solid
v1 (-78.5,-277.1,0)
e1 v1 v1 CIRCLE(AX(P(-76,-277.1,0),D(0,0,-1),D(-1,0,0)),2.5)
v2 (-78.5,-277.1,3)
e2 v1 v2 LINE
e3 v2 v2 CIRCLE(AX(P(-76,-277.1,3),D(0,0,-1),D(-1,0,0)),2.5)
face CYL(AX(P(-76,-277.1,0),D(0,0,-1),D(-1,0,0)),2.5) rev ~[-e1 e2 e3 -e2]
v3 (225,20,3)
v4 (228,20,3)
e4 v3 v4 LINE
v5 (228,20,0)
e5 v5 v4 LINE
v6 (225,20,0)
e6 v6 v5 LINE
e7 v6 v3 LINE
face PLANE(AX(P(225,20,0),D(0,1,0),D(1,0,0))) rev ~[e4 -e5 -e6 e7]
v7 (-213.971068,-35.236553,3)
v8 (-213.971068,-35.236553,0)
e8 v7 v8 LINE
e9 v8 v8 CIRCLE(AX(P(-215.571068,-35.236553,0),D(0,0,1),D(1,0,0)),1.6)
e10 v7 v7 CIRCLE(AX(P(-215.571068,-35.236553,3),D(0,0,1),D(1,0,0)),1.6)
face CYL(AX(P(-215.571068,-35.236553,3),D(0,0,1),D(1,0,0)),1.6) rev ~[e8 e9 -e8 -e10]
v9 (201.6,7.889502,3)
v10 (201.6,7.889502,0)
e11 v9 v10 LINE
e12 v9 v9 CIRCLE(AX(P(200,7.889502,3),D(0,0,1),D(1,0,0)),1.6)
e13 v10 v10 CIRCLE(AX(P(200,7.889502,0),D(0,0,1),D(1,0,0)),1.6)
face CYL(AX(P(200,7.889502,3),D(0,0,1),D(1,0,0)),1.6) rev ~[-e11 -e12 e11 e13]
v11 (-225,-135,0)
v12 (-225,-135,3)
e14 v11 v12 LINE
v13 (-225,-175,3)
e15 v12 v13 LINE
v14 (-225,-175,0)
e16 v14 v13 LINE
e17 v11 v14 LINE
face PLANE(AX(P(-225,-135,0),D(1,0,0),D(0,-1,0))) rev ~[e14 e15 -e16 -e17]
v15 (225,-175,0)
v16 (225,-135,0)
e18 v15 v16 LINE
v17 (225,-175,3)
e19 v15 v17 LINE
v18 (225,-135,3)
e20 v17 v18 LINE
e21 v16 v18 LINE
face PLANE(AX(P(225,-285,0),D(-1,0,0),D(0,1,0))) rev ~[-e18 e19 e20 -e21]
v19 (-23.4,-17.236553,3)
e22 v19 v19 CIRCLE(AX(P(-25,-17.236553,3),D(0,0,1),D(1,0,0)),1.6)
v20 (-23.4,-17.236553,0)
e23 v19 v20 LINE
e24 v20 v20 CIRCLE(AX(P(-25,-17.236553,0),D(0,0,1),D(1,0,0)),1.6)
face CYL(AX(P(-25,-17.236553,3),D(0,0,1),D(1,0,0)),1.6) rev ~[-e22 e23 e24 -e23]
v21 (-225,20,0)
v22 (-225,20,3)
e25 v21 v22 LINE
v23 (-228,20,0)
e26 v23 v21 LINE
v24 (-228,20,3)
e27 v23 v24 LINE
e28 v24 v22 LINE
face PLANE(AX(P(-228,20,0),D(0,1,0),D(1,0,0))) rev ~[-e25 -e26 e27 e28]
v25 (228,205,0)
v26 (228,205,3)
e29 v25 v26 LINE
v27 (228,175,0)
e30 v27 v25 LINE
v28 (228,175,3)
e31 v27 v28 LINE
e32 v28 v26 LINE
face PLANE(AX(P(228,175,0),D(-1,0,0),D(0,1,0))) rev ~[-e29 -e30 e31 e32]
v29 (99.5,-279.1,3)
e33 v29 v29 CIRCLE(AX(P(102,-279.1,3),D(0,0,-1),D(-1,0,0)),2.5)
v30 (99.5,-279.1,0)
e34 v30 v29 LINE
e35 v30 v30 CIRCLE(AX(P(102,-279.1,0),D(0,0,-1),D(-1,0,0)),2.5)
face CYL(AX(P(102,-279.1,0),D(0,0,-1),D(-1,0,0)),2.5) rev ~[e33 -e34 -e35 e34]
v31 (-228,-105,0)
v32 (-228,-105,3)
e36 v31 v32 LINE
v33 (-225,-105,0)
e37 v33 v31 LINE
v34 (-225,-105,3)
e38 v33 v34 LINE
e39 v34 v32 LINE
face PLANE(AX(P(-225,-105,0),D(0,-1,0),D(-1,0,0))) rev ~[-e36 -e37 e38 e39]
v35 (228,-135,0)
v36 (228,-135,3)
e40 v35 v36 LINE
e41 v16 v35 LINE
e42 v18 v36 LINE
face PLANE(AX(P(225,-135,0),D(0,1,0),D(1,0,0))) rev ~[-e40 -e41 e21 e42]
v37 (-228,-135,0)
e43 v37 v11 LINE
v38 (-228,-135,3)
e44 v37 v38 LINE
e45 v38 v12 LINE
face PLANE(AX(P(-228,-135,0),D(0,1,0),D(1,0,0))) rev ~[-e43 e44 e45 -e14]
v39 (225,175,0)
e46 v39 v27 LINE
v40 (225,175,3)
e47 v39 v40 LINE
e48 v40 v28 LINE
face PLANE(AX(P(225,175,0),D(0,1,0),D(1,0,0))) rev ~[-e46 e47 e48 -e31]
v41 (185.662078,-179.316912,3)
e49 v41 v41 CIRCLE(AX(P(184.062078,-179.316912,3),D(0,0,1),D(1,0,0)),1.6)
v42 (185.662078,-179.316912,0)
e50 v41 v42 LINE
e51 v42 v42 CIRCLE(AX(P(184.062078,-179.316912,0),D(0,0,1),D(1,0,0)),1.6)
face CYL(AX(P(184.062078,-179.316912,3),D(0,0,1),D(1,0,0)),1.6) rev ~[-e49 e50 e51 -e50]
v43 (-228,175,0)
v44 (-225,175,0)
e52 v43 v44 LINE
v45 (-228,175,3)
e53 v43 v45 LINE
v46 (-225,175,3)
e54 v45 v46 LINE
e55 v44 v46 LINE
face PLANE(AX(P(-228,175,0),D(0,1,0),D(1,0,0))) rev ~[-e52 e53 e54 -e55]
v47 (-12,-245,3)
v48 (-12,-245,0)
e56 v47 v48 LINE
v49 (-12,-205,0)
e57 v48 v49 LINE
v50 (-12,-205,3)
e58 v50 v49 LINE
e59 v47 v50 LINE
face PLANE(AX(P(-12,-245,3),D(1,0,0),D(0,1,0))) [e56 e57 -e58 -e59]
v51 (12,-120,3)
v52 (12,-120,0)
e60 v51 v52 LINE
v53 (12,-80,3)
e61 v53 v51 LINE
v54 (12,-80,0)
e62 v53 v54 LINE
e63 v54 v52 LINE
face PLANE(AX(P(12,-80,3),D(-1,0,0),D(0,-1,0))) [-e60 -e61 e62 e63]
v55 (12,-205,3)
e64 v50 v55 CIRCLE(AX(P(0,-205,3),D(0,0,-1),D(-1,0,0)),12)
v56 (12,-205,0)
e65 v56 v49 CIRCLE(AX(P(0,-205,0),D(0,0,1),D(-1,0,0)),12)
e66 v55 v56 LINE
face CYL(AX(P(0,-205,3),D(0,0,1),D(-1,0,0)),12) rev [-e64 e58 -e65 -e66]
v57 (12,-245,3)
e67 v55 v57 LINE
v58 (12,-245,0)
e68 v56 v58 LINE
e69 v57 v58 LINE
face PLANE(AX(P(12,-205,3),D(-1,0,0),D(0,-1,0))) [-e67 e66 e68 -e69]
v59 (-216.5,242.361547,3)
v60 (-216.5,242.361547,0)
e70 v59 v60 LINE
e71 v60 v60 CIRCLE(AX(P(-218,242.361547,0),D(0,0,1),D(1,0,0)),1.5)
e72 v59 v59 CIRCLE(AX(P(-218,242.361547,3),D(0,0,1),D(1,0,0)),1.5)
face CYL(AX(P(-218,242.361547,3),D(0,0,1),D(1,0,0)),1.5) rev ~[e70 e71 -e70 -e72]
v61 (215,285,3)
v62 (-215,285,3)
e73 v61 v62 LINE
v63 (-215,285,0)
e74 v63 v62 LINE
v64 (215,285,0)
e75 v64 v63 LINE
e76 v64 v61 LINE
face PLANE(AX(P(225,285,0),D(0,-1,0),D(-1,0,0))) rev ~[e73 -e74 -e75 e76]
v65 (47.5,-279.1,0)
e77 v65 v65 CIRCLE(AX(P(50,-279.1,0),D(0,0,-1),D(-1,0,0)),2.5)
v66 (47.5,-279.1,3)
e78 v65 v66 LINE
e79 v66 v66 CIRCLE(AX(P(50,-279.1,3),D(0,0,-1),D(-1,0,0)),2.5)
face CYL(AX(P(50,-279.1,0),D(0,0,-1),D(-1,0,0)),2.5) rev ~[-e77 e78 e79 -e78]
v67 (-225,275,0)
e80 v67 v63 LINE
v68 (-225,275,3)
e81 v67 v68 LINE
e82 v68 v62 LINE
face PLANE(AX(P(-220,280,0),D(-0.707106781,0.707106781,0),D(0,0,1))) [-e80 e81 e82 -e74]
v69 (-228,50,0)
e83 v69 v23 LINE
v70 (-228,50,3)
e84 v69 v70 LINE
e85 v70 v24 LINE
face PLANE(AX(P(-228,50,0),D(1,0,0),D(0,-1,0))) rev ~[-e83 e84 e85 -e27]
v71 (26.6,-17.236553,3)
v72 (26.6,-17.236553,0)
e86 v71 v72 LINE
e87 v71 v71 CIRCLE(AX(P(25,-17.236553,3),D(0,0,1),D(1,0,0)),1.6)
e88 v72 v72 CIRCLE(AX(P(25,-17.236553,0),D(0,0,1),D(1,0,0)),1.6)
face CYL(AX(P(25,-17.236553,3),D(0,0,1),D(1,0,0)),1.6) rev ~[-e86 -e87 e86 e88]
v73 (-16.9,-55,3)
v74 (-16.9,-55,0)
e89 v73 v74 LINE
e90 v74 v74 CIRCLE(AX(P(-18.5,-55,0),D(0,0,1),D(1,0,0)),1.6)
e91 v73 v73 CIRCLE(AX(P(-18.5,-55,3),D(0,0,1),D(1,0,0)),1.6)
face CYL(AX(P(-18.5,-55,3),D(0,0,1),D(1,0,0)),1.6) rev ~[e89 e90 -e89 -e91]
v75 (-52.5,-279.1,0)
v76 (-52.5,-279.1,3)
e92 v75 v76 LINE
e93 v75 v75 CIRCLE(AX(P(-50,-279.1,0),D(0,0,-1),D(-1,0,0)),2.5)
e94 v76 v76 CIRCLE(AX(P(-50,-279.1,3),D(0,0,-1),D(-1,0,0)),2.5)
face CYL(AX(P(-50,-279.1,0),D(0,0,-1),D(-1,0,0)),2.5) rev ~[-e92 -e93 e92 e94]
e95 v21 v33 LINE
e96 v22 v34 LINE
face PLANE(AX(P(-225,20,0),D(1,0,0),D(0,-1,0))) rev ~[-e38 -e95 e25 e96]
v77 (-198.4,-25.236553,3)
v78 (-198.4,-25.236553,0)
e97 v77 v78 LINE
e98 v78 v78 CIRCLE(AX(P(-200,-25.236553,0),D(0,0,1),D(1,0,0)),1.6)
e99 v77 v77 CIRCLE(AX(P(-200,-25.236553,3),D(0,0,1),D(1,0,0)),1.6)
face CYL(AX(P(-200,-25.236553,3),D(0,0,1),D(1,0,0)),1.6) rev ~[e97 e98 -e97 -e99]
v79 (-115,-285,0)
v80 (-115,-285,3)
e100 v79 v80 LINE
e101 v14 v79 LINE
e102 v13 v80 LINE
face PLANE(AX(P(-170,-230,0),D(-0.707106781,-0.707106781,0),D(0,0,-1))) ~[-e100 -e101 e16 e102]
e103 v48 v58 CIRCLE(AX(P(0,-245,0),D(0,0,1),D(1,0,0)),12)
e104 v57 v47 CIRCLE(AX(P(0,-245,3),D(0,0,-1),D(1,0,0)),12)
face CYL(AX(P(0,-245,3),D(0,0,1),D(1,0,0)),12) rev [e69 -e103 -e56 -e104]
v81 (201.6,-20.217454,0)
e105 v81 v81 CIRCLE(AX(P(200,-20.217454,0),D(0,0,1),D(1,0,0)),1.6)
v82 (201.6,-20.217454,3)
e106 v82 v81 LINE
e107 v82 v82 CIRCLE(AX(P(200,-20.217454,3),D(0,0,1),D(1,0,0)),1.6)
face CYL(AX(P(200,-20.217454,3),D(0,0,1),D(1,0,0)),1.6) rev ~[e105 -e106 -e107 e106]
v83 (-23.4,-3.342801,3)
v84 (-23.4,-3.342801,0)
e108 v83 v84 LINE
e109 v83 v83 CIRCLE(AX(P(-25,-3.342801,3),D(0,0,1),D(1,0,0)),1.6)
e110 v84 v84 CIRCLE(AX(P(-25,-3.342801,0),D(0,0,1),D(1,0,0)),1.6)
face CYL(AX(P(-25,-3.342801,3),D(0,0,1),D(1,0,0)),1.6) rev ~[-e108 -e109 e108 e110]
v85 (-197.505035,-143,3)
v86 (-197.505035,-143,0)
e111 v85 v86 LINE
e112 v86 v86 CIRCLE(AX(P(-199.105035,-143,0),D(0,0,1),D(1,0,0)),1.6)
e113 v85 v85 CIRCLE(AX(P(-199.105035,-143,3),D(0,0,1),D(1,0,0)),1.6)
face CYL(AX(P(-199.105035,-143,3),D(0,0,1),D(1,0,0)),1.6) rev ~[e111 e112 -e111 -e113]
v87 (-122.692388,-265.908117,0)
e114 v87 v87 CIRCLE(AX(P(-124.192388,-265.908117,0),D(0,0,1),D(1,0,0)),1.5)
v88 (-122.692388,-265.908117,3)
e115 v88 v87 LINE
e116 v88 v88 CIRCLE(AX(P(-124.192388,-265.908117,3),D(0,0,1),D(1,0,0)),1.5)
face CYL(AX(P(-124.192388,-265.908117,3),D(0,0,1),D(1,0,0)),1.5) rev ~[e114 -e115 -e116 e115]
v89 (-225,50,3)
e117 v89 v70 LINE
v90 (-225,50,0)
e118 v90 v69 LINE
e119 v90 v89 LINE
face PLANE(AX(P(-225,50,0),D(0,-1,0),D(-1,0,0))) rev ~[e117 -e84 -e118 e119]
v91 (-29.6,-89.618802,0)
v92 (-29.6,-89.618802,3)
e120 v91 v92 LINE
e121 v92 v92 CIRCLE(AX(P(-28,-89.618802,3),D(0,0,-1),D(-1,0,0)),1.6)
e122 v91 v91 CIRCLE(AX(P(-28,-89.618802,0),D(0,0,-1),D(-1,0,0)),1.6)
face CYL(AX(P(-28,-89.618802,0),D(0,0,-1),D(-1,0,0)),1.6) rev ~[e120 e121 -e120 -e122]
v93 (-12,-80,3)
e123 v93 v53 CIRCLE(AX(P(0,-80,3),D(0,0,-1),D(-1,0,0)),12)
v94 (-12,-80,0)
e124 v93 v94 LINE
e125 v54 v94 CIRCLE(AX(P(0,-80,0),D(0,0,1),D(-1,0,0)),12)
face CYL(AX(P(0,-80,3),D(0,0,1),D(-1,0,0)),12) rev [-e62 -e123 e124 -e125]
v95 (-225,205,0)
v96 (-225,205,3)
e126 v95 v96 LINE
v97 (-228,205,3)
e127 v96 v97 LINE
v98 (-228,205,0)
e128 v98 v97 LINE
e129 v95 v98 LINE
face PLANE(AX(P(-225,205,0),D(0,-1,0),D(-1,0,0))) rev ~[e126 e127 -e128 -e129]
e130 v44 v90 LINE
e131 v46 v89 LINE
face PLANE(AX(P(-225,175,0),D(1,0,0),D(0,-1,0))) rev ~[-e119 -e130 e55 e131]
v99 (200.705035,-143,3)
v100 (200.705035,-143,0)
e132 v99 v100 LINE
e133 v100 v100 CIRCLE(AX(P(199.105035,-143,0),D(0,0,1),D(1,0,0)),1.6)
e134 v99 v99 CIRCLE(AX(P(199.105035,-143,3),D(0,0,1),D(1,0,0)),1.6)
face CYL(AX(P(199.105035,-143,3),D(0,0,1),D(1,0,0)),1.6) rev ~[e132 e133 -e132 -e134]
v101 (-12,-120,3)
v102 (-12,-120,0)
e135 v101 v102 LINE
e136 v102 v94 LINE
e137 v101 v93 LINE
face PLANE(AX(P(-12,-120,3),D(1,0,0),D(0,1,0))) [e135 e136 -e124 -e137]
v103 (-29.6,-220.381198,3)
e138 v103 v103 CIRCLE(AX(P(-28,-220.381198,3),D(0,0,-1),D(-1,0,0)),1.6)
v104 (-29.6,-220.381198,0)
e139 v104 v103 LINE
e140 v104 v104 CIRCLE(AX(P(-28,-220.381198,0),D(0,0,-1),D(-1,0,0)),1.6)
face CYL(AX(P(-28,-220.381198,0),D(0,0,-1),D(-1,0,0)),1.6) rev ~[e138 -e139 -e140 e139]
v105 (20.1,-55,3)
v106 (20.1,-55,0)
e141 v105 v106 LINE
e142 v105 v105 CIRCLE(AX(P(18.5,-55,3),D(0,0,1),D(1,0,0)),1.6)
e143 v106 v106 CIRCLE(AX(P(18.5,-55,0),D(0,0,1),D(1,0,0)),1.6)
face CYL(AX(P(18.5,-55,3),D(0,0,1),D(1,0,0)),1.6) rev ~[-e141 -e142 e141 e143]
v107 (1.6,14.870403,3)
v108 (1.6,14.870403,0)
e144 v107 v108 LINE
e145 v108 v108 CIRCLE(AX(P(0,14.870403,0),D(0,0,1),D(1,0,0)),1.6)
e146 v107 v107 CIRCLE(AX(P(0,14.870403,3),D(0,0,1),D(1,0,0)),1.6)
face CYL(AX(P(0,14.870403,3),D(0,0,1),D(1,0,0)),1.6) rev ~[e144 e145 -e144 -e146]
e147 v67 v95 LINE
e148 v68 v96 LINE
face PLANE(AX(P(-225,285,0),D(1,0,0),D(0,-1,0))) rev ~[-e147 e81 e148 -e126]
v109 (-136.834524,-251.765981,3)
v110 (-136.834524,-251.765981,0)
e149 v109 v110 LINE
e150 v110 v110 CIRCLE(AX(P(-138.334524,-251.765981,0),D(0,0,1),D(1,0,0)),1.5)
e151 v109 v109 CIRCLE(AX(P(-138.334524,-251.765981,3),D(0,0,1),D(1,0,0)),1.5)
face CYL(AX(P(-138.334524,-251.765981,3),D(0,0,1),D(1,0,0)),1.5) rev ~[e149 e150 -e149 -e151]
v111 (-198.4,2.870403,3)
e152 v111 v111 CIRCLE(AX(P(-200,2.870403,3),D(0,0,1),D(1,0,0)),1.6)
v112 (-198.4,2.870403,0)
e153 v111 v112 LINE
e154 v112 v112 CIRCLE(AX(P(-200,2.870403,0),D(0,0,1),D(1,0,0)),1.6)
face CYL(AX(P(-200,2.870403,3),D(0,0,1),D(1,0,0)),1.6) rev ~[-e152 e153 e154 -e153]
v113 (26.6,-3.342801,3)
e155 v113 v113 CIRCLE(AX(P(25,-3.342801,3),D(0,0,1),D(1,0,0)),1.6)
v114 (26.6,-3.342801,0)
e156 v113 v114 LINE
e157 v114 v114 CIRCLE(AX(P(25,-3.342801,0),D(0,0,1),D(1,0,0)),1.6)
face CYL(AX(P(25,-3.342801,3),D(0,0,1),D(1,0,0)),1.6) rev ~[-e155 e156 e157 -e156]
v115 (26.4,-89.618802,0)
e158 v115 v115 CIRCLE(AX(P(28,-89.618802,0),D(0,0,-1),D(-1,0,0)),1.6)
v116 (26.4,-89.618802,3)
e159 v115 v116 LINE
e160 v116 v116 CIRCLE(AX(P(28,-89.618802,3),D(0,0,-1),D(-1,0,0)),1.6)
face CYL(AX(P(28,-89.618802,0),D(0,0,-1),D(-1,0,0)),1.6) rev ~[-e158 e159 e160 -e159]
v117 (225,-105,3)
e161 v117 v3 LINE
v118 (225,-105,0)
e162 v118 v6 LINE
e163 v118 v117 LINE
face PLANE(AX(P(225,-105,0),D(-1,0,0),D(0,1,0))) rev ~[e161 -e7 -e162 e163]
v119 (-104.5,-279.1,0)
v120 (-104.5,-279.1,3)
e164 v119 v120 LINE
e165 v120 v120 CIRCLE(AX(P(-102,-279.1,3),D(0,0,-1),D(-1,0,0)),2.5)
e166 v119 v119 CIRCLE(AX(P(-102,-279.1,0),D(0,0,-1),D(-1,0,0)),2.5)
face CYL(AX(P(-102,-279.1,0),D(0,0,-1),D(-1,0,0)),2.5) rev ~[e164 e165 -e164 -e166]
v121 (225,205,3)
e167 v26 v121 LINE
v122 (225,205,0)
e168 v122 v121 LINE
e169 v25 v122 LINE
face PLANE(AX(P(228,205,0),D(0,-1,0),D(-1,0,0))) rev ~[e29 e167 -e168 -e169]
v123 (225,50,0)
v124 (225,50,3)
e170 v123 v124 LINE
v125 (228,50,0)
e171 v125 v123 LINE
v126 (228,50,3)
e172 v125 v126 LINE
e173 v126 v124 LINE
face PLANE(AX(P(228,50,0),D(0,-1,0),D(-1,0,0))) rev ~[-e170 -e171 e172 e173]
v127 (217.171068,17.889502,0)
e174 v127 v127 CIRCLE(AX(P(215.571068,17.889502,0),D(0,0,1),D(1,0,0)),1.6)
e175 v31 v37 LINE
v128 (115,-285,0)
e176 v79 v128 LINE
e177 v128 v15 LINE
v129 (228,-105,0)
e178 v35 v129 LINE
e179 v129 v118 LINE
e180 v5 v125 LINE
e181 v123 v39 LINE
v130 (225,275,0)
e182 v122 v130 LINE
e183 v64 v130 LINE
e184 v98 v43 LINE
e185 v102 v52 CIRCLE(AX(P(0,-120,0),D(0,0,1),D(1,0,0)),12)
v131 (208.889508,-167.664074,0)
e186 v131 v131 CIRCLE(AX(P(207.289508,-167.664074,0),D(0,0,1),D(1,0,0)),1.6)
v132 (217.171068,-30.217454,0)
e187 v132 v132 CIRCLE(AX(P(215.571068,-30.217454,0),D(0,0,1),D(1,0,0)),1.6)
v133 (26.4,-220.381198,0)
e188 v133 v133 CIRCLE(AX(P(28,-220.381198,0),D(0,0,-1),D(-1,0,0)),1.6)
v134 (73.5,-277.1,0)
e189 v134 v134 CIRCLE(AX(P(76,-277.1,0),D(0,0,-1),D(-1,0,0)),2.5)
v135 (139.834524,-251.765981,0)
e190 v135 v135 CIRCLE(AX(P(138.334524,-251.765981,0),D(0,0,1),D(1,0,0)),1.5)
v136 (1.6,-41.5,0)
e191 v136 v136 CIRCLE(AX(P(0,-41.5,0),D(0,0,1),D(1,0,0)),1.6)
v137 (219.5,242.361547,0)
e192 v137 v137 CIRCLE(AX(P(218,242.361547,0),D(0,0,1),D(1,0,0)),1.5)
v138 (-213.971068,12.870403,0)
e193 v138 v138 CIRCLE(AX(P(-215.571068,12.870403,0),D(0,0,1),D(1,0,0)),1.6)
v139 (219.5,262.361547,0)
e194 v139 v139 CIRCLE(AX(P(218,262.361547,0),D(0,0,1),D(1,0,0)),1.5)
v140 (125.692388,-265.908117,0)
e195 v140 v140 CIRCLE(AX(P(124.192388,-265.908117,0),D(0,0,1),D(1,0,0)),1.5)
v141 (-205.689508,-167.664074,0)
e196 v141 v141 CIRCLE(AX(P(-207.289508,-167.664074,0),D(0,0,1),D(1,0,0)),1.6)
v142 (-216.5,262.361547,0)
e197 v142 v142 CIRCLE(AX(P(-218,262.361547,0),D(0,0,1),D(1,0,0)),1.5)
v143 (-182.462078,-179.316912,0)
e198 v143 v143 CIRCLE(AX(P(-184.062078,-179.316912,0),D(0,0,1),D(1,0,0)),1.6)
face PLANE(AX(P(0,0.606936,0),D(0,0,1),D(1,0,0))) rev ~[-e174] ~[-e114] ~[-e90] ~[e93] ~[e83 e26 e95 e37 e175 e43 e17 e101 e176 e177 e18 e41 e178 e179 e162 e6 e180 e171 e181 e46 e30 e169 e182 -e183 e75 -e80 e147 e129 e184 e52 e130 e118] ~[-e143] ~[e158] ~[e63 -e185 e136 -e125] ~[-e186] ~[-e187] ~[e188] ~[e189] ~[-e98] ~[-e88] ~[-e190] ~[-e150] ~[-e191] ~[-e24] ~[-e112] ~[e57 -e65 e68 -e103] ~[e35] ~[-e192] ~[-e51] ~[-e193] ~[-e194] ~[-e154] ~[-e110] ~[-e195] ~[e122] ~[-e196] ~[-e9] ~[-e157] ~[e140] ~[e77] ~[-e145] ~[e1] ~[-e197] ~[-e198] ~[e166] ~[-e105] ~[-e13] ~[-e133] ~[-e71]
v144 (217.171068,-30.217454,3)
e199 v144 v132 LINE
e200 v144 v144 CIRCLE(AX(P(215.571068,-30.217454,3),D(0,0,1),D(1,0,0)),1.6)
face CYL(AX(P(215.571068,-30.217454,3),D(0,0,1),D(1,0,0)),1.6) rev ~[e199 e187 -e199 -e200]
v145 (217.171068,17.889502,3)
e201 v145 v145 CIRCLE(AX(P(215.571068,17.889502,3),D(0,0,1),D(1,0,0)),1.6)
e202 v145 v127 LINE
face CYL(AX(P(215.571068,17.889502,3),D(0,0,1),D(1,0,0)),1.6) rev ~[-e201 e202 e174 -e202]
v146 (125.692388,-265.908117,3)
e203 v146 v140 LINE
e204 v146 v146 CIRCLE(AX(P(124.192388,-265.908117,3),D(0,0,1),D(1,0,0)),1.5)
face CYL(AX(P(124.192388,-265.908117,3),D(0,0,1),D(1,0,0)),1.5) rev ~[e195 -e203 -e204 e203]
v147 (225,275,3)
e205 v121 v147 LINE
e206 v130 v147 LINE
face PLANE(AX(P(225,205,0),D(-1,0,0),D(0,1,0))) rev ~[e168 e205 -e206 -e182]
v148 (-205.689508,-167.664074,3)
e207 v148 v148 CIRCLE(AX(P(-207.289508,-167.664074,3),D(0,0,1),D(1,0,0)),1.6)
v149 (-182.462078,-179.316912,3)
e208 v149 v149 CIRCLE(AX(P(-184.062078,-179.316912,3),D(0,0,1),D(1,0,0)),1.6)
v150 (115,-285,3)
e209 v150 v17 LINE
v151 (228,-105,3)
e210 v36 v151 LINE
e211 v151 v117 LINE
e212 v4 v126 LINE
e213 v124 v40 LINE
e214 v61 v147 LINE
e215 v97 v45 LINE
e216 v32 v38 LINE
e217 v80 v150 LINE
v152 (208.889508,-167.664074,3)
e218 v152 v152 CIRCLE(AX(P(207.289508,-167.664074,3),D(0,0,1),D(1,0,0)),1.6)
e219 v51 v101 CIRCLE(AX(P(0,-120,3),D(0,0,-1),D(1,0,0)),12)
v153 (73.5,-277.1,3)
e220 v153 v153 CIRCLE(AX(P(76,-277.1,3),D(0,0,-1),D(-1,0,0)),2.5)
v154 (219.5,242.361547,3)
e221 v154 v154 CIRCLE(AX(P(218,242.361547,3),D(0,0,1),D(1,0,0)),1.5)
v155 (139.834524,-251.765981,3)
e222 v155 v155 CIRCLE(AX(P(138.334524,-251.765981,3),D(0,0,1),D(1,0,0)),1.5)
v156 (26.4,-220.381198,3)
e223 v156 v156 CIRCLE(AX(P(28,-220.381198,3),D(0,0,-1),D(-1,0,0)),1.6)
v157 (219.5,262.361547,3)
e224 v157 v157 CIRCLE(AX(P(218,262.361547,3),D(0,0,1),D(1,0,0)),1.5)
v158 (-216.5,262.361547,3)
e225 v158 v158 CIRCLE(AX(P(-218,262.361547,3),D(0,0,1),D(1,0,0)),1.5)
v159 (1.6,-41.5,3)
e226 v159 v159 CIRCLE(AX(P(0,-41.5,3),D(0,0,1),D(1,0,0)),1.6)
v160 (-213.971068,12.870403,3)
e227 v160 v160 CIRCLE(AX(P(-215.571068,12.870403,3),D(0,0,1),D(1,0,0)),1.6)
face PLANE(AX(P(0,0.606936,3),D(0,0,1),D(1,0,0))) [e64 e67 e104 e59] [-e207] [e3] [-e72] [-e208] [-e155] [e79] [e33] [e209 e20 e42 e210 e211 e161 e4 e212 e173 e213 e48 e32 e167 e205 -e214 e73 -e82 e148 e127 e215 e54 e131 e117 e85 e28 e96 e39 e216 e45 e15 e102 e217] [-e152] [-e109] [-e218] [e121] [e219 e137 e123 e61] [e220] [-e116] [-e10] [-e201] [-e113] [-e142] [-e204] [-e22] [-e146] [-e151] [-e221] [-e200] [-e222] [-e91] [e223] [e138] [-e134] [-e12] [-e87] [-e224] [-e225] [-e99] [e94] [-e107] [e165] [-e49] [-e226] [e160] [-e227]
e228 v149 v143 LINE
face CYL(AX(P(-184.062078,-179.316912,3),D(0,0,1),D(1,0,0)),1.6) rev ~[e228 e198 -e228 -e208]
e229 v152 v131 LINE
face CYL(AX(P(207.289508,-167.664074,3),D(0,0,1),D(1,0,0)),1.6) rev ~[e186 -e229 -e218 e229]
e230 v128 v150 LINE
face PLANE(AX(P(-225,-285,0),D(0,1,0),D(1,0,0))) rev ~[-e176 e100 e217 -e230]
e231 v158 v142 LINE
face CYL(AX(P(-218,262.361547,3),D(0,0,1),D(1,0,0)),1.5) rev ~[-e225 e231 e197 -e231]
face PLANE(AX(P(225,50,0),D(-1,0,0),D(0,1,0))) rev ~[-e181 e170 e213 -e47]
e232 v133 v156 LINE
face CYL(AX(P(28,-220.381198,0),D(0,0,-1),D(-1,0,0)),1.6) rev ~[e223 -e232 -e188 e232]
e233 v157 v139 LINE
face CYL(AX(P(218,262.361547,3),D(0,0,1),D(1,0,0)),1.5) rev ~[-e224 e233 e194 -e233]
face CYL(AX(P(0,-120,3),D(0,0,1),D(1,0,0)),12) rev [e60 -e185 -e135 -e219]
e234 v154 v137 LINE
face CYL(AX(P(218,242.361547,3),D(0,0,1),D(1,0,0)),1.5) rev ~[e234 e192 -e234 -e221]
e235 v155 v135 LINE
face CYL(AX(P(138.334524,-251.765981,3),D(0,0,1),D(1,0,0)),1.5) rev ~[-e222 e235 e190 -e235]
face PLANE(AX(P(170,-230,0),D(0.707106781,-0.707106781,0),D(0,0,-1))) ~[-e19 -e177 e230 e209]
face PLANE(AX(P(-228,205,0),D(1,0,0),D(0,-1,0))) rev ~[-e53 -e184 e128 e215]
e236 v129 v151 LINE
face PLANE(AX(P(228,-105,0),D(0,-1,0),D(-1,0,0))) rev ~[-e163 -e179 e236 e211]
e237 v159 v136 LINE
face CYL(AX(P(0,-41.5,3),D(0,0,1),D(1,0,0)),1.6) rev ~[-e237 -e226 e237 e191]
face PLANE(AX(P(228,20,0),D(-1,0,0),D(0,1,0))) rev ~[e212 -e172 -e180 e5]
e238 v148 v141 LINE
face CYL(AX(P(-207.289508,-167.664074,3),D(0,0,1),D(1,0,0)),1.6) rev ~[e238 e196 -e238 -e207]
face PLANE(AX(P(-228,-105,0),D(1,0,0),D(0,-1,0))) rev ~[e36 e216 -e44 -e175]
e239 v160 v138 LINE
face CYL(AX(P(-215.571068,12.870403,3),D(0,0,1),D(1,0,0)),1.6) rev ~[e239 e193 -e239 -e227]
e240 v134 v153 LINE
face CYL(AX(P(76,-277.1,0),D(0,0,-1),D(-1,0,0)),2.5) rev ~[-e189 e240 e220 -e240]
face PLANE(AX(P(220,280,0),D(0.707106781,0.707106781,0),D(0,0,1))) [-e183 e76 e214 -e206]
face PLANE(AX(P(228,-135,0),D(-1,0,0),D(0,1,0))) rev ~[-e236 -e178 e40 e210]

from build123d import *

# Parameters (mm, degrees)
EXTRUDE_1_DEPTH    = 3
CHAMFER1_SIZE      = 110
SKETCH1_R          = 2.5
CUT_EXTRUDE1_DEPTH = 10
SKETCH2_R          = 1.6
CUT_EXTRUDE2_DEPTH = 10
CUT_EXTRUDE3_DEPTH = 10
SKETCH4_R          = 1.6
CUT_EXTRUDE4_DEPTH = 8
SKETCH5_R          = 1.5
CUT_EXTRUDE5_DEPTH = 3
SKETCH6_R          = 1.6
CUT_EXTRUDE6_DEPTH = 3
CHAMFER2_SIZE      = 10
SKETCH7_R          = 1.6
CUT_EXTRUDE7_DEPTH = 10


with BuildPart() as part:
    # 草图1 → 凸台-拉伸1 (new body)
    with BuildSketch(Plane.XY):
        Polygon((-225, 205), (-228, 205), (-228, 175), (-225, 175), (-225, 50), (-228, 50), (-228, 20), (-225, 20), (-225, -105), (-228, -105), (-228, -135), (-225, -135), (-225, -285), (225, -285), (225, -135), (228, -135), (228, -105), (225, -105), (225, 20), (228, 20), (228, 50), (225, 50), (225, 175), (228, 175), (228, 205), (225, 205), (225, 285), (-225, 285), align=None)
    extrude(amount=EXTRUDE_1_DEPTH)

    # Chamfer1
    chamfer1_edges = [part.edges().sort_by_distance(p)[0] for p in [
        (225, -285, 1.5),
        (-225, -285, 1.5),
    ]]
    chamfer(chamfer1_edges, length=CHAMFER1_SIZE)

    # Sketch1 → Cut-Extrude1 (cut)
    with BuildSketch(Plane(origin=(0, 0, 0), x_dir=(-1, 0, 0), z_dir=(0, 0, -1))):
        with Locations((102, -279.1)):
            Circle(SKETCH1_R)
        with Locations((76, -277.1)):
            Circle(SKETCH1_R)
        with Locations((50, -279.1)):
            Circle(SKETCH1_R)
        with Locations((-50, -279.1)):
            Circle(SKETCH1_R)
        with Locations((-76, -277.1)):
            Circle(SKETCH1_R)
        with Locations((-102, -279.1)):
            Circle(SKETCH1_R)
    extrude(amount=-CUT_EXTRUDE1_DEPTH, mode=Mode.SUBTRACT)

    # Sketch2 → Cut-Extrude2 (cut)
    with BuildSketch(Plane.XY.offset(3)):
        with Locations((18.5, -55)):
            Circle(SKETCH2_R)
        with Locations((-18.5, -55)):
            Circle(SKETCH2_R)
        with Locations((0, -41.5)):
            Circle(SKETCH2_R)
    extrude(amount=-CUT_EXTRUDE2_DEPTH, mode=Mode.SUBTRACT)

    # Sketch3 → Cut-Extrude3 (cut)
    with BuildSketch(Plane.XY.offset(3)):
        with BuildLine():
            Line((-12, -245), (-12, -205))
            ThreePointArc((-12, -205), (0, -193), (12, -205))
            Line((12, -205), (12, -245))
            ThreePointArc((12, -245), (0, -257), (-12, -245))
        make_face()
        with BuildLine():
            Line((-12, -120), (-12, -80))
            ThreePointArc((-12, -80), (0, -68), (12, -80))
            Line((12, -80), (12, -120))
            ThreePointArc((12, -120), (0, -132), (-12, -120))
        make_face()
    extrude(amount=-CUT_EXTRUDE3_DEPTH, mode=Mode.SUBTRACT)

    # Sketch4 → Cut-Extrude4 (cut)
    with BuildSketch(Plane.XY.offset(3)):
        with Locations((184.062077547, -179.316911543)):
            Circle(SKETCH4_R)
        with Locations((207.289508253, -167.664074122)):
            Circle(SKETCH4_R)
        with Locations((199.105034852, -143)):
            Circle(SKETCH4_R)
        with Locations((215.571067812, -30.217453576)):
            Circle(SKETCH4_R)
        with Locations((200, -20.217453576)):
            Circle(SKETCH4_R)
        with Locations((200, 7.889501876)):
            Circle(SKETCH4_R)
        with Locations((215.571067812, 17.889501876)):
            Circle(SKETCH4_R)
        with Locations((-215.571067812, 12.870402688)):
            Circle(SKETCH4_R)
        with Locations((-200, 2.870402688)):
            Circle(SKETCH4_R)
        with Locations((-200, -25.236552763)):
            Circle(SKETCH4_R)
        with Locations((-215.571067812, -35.236552763)):
            Circle(SKETCH4_R)
        with Locations((-199.105034852, -143)):
            Circle(SKETCH4_R)
        with Locations((-207.289508253, -167.664074122)):
            Circle(SKETCH4_R)
        with Locations((-184.062077547, -179.316911543)):
            Circle(SKETCH4_R)
    extrude(amount=-CUT_EXTRUDE4_DEPTH, mode=Mode.SUBTRACT)

    # Sketch5 → Cut-Extrude5 (cut)
    with BuildSketch(Plane.XY.offset(3)):
        with Locations((124.192388155, -265.908116908)):
            Circle(SKETCH5_R)
        with Locations((138.334523779, -251.765981284)):
            Circle(SKETCH5_R)
        with Locations((218, 242.361547493)):
            Circle(SKETCH5_R)
        with Locations((218, 262.361547493)):
            Circle(SKETCH5_R)
        with Locations((-218, 262.361547493)):
            Circle(SKETCH5_R)
        with Locations((-218, 242.361547493)):
            Circle(SKETCH5_R)
        with Locations((-138.334523779, -251.765981284)):
            Circle(SKETCH5_R)
        with Locations((-124.192388155, -265.908116908)):
            Circle(SKETCH5_R)
    extrude(amount=-CUT_EXTRUDE5_DEPTH, mode=Mode.SUBTRACT)

    # Sketch6 → Cut-Extrude6 (cut)
    with BuildSketch(Plane(origin=(0, 0, 0), x_dir=(-1, 0, 0), z_dir=(0, 0, -1))):
        with Locations((-28, -89.618802154)):
            Circle(SKETCH6_R)
        with Locations((28, -89.618802154)):
            Circle(SKETCH6_R)
        with Locations((28, -220.381197846)):
            Circle(SKETCH6_R)
        with Locations((-28, -220.381197846)):
            Circle(SKETCH6_R)
    extrude(amount=-CUT_EXTRUDE6_DEPTH, mode=Mode.SUBTRACT)

    # Chamfer2
    chamfer2_edges = [part.edges().sort_by_distance(p)[0] for p in [
        (-225, 285, 1.5),
        (225, 285, 1.5),
    ]]
    chamfer(chamfer2_edges, length=CHAMFER2_SIZE)

    # Sketch7 → Cut-Extrude7 (cut)
    with BuildSketch(Plane.XY.offset(3)):
        with Locations((25, -17.236552763)):
            Circle(SKETCH7_R)
        with Locations((25, -3.342800748)):
            Circle(SKETCH7_R)
        with Locations((0, 14.870402688)):
            Circle(SKETCH7_R)
        with Locations((-25, -17.236552763)):
            Circle(SKETCH7_R)
        with Locations((-25, -3.342800748)):
            Circle(SKETCH7_R)
    extrude(amount=-CUT_EXTRUDE7_DEPTH, mode=Mode.SUBTRACT)


solid = part.part
